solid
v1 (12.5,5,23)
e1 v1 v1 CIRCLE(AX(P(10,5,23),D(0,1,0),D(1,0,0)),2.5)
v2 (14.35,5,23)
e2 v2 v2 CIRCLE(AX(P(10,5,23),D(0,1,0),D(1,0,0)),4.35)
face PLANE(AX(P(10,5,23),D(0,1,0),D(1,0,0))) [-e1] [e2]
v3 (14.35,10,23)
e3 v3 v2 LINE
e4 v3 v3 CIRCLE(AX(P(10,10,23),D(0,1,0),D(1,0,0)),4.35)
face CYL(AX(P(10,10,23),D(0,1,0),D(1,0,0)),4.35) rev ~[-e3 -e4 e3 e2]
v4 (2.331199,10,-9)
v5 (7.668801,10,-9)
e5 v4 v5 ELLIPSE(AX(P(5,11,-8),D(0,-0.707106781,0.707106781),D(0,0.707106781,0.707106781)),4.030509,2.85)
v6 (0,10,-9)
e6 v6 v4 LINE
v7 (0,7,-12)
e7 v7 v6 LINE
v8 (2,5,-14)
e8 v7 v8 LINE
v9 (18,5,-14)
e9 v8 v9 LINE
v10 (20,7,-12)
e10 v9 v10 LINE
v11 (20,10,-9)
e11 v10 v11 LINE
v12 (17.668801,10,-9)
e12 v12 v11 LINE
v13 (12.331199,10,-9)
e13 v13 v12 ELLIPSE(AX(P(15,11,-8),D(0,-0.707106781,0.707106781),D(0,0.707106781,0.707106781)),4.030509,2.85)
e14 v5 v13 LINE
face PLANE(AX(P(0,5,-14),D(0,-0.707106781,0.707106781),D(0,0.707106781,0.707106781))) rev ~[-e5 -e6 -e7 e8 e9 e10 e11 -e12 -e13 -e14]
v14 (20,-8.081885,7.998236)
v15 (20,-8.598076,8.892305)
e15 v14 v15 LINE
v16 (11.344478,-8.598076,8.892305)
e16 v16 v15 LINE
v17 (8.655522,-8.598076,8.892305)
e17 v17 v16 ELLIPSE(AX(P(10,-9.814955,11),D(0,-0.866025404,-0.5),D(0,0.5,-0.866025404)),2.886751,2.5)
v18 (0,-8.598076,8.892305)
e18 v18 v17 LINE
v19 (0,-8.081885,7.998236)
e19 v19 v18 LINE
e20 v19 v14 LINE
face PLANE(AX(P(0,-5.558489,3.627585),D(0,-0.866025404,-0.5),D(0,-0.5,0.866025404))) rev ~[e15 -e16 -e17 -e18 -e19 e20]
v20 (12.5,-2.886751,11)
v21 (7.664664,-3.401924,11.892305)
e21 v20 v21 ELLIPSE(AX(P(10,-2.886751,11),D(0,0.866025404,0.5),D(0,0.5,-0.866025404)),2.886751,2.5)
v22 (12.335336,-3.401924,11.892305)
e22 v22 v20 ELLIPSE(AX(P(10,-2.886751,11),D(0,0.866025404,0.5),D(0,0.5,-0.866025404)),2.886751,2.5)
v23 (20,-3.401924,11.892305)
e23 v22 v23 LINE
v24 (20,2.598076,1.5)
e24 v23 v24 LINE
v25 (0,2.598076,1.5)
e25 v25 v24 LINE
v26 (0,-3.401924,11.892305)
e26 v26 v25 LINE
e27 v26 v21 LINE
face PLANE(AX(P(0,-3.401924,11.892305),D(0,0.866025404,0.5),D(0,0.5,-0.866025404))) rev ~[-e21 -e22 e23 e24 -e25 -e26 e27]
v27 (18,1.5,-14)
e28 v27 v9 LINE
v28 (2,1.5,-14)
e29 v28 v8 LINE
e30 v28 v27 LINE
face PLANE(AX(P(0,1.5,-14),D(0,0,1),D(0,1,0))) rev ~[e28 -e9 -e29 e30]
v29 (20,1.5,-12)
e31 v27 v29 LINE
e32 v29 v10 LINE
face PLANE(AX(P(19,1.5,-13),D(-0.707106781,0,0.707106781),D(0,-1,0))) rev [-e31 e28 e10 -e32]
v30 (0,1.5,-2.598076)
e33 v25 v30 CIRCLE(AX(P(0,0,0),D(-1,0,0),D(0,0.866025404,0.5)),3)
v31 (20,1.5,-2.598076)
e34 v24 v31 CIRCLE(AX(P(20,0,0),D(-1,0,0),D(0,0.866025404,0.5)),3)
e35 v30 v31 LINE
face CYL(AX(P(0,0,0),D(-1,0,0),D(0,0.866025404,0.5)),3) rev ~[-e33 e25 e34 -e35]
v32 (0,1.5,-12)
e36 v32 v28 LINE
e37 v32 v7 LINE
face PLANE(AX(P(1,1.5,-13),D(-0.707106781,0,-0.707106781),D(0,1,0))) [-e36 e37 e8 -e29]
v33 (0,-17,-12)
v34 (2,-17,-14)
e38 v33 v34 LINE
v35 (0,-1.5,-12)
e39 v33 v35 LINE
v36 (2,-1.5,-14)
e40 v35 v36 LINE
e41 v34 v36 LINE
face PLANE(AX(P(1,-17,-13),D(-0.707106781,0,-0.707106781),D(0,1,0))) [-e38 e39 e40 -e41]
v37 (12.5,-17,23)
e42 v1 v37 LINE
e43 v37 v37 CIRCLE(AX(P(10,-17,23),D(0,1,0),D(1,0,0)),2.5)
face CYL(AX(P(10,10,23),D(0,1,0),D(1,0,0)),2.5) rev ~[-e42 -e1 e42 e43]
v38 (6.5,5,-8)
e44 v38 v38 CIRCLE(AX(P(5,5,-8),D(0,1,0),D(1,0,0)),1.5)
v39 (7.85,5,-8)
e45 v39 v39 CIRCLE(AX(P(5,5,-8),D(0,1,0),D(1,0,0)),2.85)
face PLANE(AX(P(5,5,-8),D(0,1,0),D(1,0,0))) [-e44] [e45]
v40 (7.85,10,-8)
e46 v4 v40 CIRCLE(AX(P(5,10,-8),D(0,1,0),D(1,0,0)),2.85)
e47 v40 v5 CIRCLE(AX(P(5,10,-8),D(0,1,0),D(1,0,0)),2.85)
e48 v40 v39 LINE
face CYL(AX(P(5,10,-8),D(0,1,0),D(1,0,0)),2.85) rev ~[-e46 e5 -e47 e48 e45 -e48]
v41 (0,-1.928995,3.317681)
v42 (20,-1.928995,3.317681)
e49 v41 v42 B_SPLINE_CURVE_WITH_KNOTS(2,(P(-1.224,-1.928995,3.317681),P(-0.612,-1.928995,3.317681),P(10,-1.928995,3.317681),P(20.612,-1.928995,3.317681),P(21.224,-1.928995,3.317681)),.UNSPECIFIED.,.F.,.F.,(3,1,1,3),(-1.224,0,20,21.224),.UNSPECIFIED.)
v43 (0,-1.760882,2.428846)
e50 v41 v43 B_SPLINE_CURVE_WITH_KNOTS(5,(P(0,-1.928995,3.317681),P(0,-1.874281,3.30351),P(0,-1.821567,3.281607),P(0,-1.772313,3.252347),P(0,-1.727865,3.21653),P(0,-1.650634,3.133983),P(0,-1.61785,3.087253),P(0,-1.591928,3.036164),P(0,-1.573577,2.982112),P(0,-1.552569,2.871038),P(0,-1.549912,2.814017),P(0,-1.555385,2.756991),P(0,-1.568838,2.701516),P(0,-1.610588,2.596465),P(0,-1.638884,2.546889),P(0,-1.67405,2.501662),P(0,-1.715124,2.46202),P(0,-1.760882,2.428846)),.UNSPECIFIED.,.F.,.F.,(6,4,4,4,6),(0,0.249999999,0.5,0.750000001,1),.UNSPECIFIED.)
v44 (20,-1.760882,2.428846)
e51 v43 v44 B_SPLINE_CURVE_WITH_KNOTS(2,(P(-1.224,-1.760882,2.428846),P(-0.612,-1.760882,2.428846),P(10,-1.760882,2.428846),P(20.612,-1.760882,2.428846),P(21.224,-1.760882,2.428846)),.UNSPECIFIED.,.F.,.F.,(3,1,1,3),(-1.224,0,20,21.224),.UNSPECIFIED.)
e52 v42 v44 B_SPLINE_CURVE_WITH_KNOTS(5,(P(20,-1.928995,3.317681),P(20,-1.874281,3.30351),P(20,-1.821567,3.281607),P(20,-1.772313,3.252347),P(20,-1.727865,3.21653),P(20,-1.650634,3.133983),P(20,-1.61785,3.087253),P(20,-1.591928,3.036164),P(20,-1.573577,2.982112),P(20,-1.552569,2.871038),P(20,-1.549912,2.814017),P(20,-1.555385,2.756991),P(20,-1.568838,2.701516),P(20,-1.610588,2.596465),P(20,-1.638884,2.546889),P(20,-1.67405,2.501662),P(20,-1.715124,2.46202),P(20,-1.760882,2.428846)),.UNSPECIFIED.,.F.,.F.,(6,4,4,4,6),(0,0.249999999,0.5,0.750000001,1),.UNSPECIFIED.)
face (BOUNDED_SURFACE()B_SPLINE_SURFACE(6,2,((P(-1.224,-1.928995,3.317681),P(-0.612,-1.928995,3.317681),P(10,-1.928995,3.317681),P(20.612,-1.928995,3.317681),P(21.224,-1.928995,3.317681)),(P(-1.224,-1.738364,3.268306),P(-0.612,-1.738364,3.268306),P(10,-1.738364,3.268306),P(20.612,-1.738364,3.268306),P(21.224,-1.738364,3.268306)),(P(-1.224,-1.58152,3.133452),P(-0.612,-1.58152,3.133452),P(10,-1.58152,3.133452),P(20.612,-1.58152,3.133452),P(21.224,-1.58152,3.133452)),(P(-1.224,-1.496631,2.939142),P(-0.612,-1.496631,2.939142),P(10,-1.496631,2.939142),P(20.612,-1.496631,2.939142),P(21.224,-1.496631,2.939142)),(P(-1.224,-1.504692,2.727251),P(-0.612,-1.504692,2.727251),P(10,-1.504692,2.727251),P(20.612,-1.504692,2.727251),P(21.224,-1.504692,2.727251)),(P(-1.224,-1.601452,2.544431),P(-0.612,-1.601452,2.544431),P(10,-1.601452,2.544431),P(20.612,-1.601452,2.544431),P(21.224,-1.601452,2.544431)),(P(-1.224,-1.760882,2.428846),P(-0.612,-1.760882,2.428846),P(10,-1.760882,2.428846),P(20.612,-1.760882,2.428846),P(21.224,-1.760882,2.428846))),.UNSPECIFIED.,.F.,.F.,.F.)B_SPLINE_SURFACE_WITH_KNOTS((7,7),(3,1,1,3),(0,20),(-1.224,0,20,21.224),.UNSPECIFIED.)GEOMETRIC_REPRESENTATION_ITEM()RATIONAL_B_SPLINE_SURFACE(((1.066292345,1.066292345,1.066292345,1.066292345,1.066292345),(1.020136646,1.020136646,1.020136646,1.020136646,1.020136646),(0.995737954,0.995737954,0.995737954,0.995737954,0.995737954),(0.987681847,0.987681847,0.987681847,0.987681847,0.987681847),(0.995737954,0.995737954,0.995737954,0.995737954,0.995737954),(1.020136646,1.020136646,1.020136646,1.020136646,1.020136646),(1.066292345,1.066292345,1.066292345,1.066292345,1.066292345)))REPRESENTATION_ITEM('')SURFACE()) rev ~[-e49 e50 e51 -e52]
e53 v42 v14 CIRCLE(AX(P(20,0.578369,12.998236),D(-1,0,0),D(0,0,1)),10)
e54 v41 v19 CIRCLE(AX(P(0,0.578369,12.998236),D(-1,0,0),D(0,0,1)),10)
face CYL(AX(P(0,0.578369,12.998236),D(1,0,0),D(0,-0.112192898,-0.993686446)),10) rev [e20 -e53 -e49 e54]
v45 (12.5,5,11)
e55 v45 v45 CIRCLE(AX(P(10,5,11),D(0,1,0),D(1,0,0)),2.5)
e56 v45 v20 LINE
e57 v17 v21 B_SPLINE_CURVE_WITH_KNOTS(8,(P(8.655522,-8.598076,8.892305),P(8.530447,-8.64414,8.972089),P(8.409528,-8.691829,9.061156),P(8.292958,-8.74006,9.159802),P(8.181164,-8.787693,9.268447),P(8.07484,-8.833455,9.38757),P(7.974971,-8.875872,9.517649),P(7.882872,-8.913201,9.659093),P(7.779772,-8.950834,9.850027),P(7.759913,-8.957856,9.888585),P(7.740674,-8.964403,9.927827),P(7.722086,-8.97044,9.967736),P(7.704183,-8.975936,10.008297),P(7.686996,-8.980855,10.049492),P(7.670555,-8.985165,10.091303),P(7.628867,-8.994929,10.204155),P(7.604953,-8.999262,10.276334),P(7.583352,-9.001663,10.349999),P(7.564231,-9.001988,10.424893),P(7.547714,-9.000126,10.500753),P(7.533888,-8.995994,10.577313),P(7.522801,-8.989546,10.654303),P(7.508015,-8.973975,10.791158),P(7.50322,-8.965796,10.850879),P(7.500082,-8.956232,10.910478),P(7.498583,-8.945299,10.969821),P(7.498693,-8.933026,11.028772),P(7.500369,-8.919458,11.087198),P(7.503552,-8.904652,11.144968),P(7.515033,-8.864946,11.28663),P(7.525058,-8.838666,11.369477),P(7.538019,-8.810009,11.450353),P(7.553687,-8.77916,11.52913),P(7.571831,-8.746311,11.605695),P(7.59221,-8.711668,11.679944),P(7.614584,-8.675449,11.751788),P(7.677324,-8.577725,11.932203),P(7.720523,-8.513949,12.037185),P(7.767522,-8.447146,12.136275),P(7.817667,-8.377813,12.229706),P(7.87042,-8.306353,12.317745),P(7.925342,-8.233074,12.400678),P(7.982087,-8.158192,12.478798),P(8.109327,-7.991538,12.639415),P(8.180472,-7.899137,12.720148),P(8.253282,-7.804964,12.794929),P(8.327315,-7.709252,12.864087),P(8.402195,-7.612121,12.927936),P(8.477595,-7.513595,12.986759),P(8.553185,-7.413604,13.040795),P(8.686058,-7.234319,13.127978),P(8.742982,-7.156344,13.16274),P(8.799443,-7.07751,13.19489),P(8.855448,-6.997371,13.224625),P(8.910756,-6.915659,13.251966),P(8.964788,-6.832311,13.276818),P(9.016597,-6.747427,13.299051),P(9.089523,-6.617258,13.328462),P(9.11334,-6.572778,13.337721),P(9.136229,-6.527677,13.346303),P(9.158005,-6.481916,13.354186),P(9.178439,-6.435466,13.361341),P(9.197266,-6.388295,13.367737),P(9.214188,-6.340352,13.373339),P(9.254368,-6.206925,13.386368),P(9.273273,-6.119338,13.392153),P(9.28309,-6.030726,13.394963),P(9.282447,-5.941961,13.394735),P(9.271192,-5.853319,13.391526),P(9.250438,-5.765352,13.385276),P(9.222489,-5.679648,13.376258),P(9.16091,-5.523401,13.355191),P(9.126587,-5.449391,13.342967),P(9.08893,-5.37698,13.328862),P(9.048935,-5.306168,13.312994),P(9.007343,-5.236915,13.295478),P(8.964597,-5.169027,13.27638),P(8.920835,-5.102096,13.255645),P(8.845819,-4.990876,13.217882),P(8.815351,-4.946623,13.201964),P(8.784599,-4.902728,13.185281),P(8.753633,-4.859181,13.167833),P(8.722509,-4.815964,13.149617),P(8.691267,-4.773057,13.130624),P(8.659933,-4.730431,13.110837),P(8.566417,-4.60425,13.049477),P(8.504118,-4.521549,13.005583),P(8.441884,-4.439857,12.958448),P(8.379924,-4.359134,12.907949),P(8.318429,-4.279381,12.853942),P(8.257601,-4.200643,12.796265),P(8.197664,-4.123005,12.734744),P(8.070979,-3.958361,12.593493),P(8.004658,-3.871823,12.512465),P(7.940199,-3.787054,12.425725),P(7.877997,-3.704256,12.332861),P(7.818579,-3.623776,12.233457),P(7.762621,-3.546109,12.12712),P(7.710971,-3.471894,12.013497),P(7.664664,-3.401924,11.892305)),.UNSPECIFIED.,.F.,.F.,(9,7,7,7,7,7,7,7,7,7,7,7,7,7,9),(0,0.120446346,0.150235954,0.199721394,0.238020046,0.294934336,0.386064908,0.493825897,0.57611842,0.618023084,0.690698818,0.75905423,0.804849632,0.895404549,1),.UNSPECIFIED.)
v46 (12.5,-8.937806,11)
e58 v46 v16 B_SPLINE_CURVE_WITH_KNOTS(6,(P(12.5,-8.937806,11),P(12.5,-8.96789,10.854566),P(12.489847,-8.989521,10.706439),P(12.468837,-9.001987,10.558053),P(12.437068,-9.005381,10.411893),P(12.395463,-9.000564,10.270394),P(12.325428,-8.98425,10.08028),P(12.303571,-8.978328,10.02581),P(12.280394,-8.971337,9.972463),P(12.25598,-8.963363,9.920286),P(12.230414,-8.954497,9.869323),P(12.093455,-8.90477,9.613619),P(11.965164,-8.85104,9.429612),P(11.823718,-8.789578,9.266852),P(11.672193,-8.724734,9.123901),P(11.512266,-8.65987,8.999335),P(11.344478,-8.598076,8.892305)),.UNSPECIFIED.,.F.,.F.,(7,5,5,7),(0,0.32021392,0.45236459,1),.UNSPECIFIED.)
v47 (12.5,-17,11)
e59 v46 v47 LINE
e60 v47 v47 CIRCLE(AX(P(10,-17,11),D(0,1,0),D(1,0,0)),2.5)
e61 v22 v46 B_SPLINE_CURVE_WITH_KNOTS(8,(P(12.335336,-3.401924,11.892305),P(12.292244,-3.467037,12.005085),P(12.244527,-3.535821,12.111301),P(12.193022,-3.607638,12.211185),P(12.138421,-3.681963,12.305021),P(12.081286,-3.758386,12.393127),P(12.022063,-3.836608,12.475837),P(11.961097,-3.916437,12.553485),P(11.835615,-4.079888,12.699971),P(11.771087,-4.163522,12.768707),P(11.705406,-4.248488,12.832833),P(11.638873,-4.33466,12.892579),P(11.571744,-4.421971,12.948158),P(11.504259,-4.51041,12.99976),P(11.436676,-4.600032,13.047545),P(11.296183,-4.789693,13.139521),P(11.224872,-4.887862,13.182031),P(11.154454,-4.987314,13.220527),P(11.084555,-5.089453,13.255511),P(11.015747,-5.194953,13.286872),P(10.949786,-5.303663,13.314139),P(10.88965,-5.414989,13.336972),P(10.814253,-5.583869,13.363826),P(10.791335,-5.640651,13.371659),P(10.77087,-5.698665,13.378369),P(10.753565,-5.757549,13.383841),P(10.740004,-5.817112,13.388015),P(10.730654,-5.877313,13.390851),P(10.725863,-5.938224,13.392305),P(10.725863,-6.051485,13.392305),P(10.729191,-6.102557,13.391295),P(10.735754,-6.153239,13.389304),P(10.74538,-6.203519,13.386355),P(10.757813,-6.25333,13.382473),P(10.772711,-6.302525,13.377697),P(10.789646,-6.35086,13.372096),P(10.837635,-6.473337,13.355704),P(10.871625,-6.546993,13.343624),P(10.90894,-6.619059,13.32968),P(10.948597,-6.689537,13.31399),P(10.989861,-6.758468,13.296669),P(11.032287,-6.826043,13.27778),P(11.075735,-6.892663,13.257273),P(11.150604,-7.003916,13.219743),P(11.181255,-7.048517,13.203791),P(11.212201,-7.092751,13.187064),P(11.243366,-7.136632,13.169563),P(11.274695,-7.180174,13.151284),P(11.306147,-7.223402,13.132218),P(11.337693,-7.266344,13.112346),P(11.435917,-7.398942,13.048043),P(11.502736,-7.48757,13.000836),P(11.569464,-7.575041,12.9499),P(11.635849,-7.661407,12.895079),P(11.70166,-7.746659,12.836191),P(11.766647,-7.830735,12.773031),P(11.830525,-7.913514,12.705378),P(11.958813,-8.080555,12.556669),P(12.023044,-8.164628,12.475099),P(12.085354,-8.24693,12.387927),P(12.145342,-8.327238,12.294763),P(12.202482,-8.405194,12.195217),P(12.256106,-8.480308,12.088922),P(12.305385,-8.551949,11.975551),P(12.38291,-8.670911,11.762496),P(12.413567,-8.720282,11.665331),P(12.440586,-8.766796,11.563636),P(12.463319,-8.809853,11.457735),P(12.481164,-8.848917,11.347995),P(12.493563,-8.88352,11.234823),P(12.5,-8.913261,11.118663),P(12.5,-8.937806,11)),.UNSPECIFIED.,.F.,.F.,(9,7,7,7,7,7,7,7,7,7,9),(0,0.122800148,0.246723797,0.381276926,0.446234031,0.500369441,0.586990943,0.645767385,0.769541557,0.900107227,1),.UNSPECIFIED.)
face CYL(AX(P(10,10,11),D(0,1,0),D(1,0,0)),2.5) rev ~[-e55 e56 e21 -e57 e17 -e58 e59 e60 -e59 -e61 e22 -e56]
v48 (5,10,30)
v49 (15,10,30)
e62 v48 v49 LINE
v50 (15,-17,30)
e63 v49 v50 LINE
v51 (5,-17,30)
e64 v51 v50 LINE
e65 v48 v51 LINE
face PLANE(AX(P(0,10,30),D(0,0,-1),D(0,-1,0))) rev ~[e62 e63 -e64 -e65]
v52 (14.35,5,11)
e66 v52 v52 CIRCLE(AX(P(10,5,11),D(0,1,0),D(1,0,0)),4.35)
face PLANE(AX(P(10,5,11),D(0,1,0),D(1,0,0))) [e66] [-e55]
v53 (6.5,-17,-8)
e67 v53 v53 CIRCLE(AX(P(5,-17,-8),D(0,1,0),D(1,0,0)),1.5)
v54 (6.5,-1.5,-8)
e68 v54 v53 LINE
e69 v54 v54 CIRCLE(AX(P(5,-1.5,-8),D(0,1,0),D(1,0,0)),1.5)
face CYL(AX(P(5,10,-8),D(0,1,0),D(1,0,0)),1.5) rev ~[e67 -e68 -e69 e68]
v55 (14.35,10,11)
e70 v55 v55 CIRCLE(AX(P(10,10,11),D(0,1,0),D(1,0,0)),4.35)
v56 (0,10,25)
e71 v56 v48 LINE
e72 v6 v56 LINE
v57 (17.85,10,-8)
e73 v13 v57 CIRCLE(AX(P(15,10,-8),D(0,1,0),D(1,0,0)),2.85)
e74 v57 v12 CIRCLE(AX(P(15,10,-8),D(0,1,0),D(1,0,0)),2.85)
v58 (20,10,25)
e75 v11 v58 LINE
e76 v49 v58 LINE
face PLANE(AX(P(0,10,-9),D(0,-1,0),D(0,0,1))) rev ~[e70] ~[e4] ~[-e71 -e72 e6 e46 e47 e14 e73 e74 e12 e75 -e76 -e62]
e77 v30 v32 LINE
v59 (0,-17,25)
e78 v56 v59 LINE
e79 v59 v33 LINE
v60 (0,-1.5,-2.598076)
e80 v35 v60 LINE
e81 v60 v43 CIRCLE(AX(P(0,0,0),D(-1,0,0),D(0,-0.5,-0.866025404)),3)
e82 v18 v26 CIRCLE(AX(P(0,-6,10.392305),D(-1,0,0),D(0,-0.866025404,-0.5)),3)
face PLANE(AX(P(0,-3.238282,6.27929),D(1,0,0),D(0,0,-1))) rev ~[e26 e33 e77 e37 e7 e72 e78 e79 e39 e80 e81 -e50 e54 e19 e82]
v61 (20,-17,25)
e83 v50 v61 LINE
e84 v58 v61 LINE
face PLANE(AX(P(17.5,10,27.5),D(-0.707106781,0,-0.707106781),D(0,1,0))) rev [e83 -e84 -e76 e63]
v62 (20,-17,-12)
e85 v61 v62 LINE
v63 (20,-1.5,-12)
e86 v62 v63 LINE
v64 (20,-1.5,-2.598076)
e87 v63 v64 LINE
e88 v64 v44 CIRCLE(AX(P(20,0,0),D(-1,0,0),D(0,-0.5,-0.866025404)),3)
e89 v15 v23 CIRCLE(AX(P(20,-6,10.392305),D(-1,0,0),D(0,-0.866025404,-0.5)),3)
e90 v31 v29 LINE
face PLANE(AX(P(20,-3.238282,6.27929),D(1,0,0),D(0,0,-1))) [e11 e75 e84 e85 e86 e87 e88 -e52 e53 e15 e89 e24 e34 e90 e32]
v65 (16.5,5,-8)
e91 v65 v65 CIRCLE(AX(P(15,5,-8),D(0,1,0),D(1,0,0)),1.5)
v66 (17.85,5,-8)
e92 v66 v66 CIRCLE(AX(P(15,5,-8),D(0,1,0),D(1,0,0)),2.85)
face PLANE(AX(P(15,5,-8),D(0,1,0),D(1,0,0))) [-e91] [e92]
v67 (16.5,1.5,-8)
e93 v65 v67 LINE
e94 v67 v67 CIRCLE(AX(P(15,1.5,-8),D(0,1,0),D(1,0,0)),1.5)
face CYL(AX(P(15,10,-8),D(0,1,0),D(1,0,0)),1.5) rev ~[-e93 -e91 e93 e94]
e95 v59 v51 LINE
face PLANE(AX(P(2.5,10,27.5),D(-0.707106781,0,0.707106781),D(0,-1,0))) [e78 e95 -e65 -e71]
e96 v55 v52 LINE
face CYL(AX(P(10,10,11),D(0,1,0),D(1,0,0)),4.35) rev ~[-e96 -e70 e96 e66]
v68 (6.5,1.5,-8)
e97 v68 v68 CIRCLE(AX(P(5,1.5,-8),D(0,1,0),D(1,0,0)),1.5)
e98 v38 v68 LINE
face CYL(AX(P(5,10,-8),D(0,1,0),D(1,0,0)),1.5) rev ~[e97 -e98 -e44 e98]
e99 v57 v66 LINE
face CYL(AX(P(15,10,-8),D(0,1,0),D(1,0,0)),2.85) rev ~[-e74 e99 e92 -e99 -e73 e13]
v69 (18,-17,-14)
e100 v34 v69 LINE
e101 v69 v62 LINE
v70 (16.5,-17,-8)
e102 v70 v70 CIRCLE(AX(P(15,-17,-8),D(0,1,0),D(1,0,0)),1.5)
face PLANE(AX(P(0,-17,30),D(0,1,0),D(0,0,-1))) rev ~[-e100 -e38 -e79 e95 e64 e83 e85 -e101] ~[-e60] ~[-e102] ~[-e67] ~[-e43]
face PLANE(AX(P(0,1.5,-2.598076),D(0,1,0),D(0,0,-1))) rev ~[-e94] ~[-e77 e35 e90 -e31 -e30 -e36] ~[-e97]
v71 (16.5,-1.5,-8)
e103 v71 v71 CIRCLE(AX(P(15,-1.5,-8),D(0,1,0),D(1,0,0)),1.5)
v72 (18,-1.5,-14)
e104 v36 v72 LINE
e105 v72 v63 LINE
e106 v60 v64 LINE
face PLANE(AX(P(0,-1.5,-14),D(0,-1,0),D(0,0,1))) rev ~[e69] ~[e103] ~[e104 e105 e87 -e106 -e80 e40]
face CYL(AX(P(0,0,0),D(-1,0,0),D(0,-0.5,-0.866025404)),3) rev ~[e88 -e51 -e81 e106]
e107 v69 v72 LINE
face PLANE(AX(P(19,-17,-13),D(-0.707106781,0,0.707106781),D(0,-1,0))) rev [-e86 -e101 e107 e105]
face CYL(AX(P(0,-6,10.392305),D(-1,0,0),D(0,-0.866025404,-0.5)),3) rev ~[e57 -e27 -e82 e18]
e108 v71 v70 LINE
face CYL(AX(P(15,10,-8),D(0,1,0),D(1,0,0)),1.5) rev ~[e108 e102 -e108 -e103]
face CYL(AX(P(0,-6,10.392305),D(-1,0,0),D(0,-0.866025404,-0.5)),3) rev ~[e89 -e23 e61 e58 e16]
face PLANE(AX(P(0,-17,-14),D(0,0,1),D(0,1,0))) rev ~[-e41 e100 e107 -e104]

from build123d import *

# Parameters (mm, degrees)
EXTRUDE_1_DEPTH     = 20
FILLET_1_R          = 10
FILLET_2_R          = 0.5
SKETCH_2_R          = 4.35
SKETCH_2_R_2        = 2.5
CUT_EXTRUDE_1_DEPTH = 5
SKETCH_2_3_R        = 2.85
SKETCH_2_3_R_2      = 1.5
CUT_EXTRUDE_2_DEPTH = 5
SKETCH_2_4_R        = 2.5
SKETCH_2_4_R_2      = 1.5
CUT_EXTRUDE_3_DEPTH = 46.044422689
CHAMFER_1_SIZE      = 5
CHAMFER_2_SIZE      = 2


with BuildPart() as part:
    # 스케치1 → 보스-돌출1 (new body)
    with BuildSketch(Plane(origin=(0, 0, 0), x_dir=(0, 0, -1), z_dir=(1, 0, 0))):
        with BuildLine():
            ThreePointArc((-8.892304845, -8.598076211), (-12.990381057, -7.5), (-11.892304845, -3.401923789))
            Line((-11.892304845, -3.401923789), (-1.5, 2.598076211))
            ThreePointArc((-1.5, 2.598076211), (0.776457135, 2.897777479), (2.598076211, 1.5))
            Line((2.598076211, 1.5), (14, 1.5))
            Line((14, 1.5), (14, 5))
            Line((14, 5), (9, 10))
            Line((9, 10), (-30, 10))
            Line((-30, 10), (-30, -17))
            Line((-30, -17), (14, -17))
            Line((14, -17), (14, -1.5))
            Line((14, -1.5), (2.598076211, -1.5))
            ThreePointArc((2.598076211, -1.5), (-0.776457135, -2.897777479), (-3, 0))
            Line((-3, 0), (-3.62758528, -5.558488953))
            Line((-3.62758528, -5.558488953), (-8.892304845, -8.598076211))
        make_face()
    extrude(amount=EXTRUDE_1_DEPTH)

    # 필렛1
    fillet_1_edges = [part.edges().sort_by_distance(p)[0] for p in [
        (10, -5.558488953, 3.62758528),
    ]]
    fillet(fillet_1_edges, radius=FILLET_1_R)

    # 필렛2
    fillet_2_edges = [part.edges().sort_by_distance(p)[0] for p in [
        (10, 0, 3),
    ]]
    fillet(fillet_2_edges, radius=FILLET_2_R)

    # 스케치2 → 컷-돌출1 (cut)
    # profile 1 of 2: a face of its own
    with BuildSketch(Plane(origin=(0, 10, 0), x_dir=(1, 0, 0), z_dir=(0, 1, 0))):
        with Locations((10, -11)):
            Circle(SKETCH_2_R)
        with Locations((10, -11)):
            Circle(SKETCH_2_R_2, mode=Mode.SUBTRACT)
    # profile 2 of 2: a face of its own
    with BuildSketch(Plane(origin=(0, 10, 0), x_dir=(1, 0, 0), z_dir=(0, 1, 0))):
        with Locations((10, -23)):
            Circle(SKETCH_2_R)
        with Locations((10, -23)):
            Circle(SKETCH_2_R_2, mode=Mode.SUBTRACT)
    extrude(amount=-CUT_EXTRUDE_1_DEPTH, mode=Mode.SUBTRACT)

    # 스케치2<3> → 컷-돌출2 (cut)
    # profile 1 of 2: a face of its own
    with BuildSketch(Plane(origin=(0, 10, 0), x_dir=(1, 0, 0), z_dir=(0, 1, 0))):
        with Locations((5, 8)):
            Circle(SKETCH_2_3_R)
        with Locations((5, 8)):
            Circle(SKETCH_2_3_R_2, mode=Mode.SUBTRACT)
    # profile 2 of 2: a face of its own
    with BuildSketch(Plane(origin=(0, 10, 0), x_dir=(1, 0, 0), z_dir=(0, 1, 0))):
        with Locations((15, 8)):
            Circle(SKETCH_2_3_R)
        with Locations((15, 8)):
            Circle(SKETCH_2_3_R_2, mode=Mode.SUBTRACT)
    extrude(amount=-CUT_EXTRUDE_2_DEPTH, mode=Mode.SUBTRACT)

    # 스케치2<4> → 컷-돌출3 (cut, through all)
    with BuildSketch(Plane(origin=(0, 10, 0), x_dir=(1, 0, 0), z_dir=(0, 1, 0))):
        with Locations((10, -11)):
            Circle(SKETCH_2_4_R)
        with Locations((15, 8)):
            Circle(SKETCH_2_4_R_2)
        with Locations((5, 8)):
            Circle(SKETCH_2_4_R_2)
        with Locations((10, -23)):
            Circle(SKETCH_2_4_R)
    extrude(amount=-CUT_EXTRUDE_3_DEPTH, mode=Mode.SUBTRACT)

    # 모따기1
    chamfer_1_edges = [part.edges().sort_by_distance(p)[0] for p in [
        (20, -3.5, 30),
        (0, -3.5, 30),
    ]]
    chamfer(chamfer_1_edges, length=CHAMFER_1_SIZE)

    # 모따기2
    chamfer_2_edges = [part.edges().sort_by_distance(p)[0] for p in [
        (0, -9.25, -14),
        (0, 3.25, -14),
        (20, 3.25, -14),
        (20, -9.25, -14),
    ]]
    chamfer(chamfer_2_edges, length=CHAMFER_2_SIZE)


solid = part.part
